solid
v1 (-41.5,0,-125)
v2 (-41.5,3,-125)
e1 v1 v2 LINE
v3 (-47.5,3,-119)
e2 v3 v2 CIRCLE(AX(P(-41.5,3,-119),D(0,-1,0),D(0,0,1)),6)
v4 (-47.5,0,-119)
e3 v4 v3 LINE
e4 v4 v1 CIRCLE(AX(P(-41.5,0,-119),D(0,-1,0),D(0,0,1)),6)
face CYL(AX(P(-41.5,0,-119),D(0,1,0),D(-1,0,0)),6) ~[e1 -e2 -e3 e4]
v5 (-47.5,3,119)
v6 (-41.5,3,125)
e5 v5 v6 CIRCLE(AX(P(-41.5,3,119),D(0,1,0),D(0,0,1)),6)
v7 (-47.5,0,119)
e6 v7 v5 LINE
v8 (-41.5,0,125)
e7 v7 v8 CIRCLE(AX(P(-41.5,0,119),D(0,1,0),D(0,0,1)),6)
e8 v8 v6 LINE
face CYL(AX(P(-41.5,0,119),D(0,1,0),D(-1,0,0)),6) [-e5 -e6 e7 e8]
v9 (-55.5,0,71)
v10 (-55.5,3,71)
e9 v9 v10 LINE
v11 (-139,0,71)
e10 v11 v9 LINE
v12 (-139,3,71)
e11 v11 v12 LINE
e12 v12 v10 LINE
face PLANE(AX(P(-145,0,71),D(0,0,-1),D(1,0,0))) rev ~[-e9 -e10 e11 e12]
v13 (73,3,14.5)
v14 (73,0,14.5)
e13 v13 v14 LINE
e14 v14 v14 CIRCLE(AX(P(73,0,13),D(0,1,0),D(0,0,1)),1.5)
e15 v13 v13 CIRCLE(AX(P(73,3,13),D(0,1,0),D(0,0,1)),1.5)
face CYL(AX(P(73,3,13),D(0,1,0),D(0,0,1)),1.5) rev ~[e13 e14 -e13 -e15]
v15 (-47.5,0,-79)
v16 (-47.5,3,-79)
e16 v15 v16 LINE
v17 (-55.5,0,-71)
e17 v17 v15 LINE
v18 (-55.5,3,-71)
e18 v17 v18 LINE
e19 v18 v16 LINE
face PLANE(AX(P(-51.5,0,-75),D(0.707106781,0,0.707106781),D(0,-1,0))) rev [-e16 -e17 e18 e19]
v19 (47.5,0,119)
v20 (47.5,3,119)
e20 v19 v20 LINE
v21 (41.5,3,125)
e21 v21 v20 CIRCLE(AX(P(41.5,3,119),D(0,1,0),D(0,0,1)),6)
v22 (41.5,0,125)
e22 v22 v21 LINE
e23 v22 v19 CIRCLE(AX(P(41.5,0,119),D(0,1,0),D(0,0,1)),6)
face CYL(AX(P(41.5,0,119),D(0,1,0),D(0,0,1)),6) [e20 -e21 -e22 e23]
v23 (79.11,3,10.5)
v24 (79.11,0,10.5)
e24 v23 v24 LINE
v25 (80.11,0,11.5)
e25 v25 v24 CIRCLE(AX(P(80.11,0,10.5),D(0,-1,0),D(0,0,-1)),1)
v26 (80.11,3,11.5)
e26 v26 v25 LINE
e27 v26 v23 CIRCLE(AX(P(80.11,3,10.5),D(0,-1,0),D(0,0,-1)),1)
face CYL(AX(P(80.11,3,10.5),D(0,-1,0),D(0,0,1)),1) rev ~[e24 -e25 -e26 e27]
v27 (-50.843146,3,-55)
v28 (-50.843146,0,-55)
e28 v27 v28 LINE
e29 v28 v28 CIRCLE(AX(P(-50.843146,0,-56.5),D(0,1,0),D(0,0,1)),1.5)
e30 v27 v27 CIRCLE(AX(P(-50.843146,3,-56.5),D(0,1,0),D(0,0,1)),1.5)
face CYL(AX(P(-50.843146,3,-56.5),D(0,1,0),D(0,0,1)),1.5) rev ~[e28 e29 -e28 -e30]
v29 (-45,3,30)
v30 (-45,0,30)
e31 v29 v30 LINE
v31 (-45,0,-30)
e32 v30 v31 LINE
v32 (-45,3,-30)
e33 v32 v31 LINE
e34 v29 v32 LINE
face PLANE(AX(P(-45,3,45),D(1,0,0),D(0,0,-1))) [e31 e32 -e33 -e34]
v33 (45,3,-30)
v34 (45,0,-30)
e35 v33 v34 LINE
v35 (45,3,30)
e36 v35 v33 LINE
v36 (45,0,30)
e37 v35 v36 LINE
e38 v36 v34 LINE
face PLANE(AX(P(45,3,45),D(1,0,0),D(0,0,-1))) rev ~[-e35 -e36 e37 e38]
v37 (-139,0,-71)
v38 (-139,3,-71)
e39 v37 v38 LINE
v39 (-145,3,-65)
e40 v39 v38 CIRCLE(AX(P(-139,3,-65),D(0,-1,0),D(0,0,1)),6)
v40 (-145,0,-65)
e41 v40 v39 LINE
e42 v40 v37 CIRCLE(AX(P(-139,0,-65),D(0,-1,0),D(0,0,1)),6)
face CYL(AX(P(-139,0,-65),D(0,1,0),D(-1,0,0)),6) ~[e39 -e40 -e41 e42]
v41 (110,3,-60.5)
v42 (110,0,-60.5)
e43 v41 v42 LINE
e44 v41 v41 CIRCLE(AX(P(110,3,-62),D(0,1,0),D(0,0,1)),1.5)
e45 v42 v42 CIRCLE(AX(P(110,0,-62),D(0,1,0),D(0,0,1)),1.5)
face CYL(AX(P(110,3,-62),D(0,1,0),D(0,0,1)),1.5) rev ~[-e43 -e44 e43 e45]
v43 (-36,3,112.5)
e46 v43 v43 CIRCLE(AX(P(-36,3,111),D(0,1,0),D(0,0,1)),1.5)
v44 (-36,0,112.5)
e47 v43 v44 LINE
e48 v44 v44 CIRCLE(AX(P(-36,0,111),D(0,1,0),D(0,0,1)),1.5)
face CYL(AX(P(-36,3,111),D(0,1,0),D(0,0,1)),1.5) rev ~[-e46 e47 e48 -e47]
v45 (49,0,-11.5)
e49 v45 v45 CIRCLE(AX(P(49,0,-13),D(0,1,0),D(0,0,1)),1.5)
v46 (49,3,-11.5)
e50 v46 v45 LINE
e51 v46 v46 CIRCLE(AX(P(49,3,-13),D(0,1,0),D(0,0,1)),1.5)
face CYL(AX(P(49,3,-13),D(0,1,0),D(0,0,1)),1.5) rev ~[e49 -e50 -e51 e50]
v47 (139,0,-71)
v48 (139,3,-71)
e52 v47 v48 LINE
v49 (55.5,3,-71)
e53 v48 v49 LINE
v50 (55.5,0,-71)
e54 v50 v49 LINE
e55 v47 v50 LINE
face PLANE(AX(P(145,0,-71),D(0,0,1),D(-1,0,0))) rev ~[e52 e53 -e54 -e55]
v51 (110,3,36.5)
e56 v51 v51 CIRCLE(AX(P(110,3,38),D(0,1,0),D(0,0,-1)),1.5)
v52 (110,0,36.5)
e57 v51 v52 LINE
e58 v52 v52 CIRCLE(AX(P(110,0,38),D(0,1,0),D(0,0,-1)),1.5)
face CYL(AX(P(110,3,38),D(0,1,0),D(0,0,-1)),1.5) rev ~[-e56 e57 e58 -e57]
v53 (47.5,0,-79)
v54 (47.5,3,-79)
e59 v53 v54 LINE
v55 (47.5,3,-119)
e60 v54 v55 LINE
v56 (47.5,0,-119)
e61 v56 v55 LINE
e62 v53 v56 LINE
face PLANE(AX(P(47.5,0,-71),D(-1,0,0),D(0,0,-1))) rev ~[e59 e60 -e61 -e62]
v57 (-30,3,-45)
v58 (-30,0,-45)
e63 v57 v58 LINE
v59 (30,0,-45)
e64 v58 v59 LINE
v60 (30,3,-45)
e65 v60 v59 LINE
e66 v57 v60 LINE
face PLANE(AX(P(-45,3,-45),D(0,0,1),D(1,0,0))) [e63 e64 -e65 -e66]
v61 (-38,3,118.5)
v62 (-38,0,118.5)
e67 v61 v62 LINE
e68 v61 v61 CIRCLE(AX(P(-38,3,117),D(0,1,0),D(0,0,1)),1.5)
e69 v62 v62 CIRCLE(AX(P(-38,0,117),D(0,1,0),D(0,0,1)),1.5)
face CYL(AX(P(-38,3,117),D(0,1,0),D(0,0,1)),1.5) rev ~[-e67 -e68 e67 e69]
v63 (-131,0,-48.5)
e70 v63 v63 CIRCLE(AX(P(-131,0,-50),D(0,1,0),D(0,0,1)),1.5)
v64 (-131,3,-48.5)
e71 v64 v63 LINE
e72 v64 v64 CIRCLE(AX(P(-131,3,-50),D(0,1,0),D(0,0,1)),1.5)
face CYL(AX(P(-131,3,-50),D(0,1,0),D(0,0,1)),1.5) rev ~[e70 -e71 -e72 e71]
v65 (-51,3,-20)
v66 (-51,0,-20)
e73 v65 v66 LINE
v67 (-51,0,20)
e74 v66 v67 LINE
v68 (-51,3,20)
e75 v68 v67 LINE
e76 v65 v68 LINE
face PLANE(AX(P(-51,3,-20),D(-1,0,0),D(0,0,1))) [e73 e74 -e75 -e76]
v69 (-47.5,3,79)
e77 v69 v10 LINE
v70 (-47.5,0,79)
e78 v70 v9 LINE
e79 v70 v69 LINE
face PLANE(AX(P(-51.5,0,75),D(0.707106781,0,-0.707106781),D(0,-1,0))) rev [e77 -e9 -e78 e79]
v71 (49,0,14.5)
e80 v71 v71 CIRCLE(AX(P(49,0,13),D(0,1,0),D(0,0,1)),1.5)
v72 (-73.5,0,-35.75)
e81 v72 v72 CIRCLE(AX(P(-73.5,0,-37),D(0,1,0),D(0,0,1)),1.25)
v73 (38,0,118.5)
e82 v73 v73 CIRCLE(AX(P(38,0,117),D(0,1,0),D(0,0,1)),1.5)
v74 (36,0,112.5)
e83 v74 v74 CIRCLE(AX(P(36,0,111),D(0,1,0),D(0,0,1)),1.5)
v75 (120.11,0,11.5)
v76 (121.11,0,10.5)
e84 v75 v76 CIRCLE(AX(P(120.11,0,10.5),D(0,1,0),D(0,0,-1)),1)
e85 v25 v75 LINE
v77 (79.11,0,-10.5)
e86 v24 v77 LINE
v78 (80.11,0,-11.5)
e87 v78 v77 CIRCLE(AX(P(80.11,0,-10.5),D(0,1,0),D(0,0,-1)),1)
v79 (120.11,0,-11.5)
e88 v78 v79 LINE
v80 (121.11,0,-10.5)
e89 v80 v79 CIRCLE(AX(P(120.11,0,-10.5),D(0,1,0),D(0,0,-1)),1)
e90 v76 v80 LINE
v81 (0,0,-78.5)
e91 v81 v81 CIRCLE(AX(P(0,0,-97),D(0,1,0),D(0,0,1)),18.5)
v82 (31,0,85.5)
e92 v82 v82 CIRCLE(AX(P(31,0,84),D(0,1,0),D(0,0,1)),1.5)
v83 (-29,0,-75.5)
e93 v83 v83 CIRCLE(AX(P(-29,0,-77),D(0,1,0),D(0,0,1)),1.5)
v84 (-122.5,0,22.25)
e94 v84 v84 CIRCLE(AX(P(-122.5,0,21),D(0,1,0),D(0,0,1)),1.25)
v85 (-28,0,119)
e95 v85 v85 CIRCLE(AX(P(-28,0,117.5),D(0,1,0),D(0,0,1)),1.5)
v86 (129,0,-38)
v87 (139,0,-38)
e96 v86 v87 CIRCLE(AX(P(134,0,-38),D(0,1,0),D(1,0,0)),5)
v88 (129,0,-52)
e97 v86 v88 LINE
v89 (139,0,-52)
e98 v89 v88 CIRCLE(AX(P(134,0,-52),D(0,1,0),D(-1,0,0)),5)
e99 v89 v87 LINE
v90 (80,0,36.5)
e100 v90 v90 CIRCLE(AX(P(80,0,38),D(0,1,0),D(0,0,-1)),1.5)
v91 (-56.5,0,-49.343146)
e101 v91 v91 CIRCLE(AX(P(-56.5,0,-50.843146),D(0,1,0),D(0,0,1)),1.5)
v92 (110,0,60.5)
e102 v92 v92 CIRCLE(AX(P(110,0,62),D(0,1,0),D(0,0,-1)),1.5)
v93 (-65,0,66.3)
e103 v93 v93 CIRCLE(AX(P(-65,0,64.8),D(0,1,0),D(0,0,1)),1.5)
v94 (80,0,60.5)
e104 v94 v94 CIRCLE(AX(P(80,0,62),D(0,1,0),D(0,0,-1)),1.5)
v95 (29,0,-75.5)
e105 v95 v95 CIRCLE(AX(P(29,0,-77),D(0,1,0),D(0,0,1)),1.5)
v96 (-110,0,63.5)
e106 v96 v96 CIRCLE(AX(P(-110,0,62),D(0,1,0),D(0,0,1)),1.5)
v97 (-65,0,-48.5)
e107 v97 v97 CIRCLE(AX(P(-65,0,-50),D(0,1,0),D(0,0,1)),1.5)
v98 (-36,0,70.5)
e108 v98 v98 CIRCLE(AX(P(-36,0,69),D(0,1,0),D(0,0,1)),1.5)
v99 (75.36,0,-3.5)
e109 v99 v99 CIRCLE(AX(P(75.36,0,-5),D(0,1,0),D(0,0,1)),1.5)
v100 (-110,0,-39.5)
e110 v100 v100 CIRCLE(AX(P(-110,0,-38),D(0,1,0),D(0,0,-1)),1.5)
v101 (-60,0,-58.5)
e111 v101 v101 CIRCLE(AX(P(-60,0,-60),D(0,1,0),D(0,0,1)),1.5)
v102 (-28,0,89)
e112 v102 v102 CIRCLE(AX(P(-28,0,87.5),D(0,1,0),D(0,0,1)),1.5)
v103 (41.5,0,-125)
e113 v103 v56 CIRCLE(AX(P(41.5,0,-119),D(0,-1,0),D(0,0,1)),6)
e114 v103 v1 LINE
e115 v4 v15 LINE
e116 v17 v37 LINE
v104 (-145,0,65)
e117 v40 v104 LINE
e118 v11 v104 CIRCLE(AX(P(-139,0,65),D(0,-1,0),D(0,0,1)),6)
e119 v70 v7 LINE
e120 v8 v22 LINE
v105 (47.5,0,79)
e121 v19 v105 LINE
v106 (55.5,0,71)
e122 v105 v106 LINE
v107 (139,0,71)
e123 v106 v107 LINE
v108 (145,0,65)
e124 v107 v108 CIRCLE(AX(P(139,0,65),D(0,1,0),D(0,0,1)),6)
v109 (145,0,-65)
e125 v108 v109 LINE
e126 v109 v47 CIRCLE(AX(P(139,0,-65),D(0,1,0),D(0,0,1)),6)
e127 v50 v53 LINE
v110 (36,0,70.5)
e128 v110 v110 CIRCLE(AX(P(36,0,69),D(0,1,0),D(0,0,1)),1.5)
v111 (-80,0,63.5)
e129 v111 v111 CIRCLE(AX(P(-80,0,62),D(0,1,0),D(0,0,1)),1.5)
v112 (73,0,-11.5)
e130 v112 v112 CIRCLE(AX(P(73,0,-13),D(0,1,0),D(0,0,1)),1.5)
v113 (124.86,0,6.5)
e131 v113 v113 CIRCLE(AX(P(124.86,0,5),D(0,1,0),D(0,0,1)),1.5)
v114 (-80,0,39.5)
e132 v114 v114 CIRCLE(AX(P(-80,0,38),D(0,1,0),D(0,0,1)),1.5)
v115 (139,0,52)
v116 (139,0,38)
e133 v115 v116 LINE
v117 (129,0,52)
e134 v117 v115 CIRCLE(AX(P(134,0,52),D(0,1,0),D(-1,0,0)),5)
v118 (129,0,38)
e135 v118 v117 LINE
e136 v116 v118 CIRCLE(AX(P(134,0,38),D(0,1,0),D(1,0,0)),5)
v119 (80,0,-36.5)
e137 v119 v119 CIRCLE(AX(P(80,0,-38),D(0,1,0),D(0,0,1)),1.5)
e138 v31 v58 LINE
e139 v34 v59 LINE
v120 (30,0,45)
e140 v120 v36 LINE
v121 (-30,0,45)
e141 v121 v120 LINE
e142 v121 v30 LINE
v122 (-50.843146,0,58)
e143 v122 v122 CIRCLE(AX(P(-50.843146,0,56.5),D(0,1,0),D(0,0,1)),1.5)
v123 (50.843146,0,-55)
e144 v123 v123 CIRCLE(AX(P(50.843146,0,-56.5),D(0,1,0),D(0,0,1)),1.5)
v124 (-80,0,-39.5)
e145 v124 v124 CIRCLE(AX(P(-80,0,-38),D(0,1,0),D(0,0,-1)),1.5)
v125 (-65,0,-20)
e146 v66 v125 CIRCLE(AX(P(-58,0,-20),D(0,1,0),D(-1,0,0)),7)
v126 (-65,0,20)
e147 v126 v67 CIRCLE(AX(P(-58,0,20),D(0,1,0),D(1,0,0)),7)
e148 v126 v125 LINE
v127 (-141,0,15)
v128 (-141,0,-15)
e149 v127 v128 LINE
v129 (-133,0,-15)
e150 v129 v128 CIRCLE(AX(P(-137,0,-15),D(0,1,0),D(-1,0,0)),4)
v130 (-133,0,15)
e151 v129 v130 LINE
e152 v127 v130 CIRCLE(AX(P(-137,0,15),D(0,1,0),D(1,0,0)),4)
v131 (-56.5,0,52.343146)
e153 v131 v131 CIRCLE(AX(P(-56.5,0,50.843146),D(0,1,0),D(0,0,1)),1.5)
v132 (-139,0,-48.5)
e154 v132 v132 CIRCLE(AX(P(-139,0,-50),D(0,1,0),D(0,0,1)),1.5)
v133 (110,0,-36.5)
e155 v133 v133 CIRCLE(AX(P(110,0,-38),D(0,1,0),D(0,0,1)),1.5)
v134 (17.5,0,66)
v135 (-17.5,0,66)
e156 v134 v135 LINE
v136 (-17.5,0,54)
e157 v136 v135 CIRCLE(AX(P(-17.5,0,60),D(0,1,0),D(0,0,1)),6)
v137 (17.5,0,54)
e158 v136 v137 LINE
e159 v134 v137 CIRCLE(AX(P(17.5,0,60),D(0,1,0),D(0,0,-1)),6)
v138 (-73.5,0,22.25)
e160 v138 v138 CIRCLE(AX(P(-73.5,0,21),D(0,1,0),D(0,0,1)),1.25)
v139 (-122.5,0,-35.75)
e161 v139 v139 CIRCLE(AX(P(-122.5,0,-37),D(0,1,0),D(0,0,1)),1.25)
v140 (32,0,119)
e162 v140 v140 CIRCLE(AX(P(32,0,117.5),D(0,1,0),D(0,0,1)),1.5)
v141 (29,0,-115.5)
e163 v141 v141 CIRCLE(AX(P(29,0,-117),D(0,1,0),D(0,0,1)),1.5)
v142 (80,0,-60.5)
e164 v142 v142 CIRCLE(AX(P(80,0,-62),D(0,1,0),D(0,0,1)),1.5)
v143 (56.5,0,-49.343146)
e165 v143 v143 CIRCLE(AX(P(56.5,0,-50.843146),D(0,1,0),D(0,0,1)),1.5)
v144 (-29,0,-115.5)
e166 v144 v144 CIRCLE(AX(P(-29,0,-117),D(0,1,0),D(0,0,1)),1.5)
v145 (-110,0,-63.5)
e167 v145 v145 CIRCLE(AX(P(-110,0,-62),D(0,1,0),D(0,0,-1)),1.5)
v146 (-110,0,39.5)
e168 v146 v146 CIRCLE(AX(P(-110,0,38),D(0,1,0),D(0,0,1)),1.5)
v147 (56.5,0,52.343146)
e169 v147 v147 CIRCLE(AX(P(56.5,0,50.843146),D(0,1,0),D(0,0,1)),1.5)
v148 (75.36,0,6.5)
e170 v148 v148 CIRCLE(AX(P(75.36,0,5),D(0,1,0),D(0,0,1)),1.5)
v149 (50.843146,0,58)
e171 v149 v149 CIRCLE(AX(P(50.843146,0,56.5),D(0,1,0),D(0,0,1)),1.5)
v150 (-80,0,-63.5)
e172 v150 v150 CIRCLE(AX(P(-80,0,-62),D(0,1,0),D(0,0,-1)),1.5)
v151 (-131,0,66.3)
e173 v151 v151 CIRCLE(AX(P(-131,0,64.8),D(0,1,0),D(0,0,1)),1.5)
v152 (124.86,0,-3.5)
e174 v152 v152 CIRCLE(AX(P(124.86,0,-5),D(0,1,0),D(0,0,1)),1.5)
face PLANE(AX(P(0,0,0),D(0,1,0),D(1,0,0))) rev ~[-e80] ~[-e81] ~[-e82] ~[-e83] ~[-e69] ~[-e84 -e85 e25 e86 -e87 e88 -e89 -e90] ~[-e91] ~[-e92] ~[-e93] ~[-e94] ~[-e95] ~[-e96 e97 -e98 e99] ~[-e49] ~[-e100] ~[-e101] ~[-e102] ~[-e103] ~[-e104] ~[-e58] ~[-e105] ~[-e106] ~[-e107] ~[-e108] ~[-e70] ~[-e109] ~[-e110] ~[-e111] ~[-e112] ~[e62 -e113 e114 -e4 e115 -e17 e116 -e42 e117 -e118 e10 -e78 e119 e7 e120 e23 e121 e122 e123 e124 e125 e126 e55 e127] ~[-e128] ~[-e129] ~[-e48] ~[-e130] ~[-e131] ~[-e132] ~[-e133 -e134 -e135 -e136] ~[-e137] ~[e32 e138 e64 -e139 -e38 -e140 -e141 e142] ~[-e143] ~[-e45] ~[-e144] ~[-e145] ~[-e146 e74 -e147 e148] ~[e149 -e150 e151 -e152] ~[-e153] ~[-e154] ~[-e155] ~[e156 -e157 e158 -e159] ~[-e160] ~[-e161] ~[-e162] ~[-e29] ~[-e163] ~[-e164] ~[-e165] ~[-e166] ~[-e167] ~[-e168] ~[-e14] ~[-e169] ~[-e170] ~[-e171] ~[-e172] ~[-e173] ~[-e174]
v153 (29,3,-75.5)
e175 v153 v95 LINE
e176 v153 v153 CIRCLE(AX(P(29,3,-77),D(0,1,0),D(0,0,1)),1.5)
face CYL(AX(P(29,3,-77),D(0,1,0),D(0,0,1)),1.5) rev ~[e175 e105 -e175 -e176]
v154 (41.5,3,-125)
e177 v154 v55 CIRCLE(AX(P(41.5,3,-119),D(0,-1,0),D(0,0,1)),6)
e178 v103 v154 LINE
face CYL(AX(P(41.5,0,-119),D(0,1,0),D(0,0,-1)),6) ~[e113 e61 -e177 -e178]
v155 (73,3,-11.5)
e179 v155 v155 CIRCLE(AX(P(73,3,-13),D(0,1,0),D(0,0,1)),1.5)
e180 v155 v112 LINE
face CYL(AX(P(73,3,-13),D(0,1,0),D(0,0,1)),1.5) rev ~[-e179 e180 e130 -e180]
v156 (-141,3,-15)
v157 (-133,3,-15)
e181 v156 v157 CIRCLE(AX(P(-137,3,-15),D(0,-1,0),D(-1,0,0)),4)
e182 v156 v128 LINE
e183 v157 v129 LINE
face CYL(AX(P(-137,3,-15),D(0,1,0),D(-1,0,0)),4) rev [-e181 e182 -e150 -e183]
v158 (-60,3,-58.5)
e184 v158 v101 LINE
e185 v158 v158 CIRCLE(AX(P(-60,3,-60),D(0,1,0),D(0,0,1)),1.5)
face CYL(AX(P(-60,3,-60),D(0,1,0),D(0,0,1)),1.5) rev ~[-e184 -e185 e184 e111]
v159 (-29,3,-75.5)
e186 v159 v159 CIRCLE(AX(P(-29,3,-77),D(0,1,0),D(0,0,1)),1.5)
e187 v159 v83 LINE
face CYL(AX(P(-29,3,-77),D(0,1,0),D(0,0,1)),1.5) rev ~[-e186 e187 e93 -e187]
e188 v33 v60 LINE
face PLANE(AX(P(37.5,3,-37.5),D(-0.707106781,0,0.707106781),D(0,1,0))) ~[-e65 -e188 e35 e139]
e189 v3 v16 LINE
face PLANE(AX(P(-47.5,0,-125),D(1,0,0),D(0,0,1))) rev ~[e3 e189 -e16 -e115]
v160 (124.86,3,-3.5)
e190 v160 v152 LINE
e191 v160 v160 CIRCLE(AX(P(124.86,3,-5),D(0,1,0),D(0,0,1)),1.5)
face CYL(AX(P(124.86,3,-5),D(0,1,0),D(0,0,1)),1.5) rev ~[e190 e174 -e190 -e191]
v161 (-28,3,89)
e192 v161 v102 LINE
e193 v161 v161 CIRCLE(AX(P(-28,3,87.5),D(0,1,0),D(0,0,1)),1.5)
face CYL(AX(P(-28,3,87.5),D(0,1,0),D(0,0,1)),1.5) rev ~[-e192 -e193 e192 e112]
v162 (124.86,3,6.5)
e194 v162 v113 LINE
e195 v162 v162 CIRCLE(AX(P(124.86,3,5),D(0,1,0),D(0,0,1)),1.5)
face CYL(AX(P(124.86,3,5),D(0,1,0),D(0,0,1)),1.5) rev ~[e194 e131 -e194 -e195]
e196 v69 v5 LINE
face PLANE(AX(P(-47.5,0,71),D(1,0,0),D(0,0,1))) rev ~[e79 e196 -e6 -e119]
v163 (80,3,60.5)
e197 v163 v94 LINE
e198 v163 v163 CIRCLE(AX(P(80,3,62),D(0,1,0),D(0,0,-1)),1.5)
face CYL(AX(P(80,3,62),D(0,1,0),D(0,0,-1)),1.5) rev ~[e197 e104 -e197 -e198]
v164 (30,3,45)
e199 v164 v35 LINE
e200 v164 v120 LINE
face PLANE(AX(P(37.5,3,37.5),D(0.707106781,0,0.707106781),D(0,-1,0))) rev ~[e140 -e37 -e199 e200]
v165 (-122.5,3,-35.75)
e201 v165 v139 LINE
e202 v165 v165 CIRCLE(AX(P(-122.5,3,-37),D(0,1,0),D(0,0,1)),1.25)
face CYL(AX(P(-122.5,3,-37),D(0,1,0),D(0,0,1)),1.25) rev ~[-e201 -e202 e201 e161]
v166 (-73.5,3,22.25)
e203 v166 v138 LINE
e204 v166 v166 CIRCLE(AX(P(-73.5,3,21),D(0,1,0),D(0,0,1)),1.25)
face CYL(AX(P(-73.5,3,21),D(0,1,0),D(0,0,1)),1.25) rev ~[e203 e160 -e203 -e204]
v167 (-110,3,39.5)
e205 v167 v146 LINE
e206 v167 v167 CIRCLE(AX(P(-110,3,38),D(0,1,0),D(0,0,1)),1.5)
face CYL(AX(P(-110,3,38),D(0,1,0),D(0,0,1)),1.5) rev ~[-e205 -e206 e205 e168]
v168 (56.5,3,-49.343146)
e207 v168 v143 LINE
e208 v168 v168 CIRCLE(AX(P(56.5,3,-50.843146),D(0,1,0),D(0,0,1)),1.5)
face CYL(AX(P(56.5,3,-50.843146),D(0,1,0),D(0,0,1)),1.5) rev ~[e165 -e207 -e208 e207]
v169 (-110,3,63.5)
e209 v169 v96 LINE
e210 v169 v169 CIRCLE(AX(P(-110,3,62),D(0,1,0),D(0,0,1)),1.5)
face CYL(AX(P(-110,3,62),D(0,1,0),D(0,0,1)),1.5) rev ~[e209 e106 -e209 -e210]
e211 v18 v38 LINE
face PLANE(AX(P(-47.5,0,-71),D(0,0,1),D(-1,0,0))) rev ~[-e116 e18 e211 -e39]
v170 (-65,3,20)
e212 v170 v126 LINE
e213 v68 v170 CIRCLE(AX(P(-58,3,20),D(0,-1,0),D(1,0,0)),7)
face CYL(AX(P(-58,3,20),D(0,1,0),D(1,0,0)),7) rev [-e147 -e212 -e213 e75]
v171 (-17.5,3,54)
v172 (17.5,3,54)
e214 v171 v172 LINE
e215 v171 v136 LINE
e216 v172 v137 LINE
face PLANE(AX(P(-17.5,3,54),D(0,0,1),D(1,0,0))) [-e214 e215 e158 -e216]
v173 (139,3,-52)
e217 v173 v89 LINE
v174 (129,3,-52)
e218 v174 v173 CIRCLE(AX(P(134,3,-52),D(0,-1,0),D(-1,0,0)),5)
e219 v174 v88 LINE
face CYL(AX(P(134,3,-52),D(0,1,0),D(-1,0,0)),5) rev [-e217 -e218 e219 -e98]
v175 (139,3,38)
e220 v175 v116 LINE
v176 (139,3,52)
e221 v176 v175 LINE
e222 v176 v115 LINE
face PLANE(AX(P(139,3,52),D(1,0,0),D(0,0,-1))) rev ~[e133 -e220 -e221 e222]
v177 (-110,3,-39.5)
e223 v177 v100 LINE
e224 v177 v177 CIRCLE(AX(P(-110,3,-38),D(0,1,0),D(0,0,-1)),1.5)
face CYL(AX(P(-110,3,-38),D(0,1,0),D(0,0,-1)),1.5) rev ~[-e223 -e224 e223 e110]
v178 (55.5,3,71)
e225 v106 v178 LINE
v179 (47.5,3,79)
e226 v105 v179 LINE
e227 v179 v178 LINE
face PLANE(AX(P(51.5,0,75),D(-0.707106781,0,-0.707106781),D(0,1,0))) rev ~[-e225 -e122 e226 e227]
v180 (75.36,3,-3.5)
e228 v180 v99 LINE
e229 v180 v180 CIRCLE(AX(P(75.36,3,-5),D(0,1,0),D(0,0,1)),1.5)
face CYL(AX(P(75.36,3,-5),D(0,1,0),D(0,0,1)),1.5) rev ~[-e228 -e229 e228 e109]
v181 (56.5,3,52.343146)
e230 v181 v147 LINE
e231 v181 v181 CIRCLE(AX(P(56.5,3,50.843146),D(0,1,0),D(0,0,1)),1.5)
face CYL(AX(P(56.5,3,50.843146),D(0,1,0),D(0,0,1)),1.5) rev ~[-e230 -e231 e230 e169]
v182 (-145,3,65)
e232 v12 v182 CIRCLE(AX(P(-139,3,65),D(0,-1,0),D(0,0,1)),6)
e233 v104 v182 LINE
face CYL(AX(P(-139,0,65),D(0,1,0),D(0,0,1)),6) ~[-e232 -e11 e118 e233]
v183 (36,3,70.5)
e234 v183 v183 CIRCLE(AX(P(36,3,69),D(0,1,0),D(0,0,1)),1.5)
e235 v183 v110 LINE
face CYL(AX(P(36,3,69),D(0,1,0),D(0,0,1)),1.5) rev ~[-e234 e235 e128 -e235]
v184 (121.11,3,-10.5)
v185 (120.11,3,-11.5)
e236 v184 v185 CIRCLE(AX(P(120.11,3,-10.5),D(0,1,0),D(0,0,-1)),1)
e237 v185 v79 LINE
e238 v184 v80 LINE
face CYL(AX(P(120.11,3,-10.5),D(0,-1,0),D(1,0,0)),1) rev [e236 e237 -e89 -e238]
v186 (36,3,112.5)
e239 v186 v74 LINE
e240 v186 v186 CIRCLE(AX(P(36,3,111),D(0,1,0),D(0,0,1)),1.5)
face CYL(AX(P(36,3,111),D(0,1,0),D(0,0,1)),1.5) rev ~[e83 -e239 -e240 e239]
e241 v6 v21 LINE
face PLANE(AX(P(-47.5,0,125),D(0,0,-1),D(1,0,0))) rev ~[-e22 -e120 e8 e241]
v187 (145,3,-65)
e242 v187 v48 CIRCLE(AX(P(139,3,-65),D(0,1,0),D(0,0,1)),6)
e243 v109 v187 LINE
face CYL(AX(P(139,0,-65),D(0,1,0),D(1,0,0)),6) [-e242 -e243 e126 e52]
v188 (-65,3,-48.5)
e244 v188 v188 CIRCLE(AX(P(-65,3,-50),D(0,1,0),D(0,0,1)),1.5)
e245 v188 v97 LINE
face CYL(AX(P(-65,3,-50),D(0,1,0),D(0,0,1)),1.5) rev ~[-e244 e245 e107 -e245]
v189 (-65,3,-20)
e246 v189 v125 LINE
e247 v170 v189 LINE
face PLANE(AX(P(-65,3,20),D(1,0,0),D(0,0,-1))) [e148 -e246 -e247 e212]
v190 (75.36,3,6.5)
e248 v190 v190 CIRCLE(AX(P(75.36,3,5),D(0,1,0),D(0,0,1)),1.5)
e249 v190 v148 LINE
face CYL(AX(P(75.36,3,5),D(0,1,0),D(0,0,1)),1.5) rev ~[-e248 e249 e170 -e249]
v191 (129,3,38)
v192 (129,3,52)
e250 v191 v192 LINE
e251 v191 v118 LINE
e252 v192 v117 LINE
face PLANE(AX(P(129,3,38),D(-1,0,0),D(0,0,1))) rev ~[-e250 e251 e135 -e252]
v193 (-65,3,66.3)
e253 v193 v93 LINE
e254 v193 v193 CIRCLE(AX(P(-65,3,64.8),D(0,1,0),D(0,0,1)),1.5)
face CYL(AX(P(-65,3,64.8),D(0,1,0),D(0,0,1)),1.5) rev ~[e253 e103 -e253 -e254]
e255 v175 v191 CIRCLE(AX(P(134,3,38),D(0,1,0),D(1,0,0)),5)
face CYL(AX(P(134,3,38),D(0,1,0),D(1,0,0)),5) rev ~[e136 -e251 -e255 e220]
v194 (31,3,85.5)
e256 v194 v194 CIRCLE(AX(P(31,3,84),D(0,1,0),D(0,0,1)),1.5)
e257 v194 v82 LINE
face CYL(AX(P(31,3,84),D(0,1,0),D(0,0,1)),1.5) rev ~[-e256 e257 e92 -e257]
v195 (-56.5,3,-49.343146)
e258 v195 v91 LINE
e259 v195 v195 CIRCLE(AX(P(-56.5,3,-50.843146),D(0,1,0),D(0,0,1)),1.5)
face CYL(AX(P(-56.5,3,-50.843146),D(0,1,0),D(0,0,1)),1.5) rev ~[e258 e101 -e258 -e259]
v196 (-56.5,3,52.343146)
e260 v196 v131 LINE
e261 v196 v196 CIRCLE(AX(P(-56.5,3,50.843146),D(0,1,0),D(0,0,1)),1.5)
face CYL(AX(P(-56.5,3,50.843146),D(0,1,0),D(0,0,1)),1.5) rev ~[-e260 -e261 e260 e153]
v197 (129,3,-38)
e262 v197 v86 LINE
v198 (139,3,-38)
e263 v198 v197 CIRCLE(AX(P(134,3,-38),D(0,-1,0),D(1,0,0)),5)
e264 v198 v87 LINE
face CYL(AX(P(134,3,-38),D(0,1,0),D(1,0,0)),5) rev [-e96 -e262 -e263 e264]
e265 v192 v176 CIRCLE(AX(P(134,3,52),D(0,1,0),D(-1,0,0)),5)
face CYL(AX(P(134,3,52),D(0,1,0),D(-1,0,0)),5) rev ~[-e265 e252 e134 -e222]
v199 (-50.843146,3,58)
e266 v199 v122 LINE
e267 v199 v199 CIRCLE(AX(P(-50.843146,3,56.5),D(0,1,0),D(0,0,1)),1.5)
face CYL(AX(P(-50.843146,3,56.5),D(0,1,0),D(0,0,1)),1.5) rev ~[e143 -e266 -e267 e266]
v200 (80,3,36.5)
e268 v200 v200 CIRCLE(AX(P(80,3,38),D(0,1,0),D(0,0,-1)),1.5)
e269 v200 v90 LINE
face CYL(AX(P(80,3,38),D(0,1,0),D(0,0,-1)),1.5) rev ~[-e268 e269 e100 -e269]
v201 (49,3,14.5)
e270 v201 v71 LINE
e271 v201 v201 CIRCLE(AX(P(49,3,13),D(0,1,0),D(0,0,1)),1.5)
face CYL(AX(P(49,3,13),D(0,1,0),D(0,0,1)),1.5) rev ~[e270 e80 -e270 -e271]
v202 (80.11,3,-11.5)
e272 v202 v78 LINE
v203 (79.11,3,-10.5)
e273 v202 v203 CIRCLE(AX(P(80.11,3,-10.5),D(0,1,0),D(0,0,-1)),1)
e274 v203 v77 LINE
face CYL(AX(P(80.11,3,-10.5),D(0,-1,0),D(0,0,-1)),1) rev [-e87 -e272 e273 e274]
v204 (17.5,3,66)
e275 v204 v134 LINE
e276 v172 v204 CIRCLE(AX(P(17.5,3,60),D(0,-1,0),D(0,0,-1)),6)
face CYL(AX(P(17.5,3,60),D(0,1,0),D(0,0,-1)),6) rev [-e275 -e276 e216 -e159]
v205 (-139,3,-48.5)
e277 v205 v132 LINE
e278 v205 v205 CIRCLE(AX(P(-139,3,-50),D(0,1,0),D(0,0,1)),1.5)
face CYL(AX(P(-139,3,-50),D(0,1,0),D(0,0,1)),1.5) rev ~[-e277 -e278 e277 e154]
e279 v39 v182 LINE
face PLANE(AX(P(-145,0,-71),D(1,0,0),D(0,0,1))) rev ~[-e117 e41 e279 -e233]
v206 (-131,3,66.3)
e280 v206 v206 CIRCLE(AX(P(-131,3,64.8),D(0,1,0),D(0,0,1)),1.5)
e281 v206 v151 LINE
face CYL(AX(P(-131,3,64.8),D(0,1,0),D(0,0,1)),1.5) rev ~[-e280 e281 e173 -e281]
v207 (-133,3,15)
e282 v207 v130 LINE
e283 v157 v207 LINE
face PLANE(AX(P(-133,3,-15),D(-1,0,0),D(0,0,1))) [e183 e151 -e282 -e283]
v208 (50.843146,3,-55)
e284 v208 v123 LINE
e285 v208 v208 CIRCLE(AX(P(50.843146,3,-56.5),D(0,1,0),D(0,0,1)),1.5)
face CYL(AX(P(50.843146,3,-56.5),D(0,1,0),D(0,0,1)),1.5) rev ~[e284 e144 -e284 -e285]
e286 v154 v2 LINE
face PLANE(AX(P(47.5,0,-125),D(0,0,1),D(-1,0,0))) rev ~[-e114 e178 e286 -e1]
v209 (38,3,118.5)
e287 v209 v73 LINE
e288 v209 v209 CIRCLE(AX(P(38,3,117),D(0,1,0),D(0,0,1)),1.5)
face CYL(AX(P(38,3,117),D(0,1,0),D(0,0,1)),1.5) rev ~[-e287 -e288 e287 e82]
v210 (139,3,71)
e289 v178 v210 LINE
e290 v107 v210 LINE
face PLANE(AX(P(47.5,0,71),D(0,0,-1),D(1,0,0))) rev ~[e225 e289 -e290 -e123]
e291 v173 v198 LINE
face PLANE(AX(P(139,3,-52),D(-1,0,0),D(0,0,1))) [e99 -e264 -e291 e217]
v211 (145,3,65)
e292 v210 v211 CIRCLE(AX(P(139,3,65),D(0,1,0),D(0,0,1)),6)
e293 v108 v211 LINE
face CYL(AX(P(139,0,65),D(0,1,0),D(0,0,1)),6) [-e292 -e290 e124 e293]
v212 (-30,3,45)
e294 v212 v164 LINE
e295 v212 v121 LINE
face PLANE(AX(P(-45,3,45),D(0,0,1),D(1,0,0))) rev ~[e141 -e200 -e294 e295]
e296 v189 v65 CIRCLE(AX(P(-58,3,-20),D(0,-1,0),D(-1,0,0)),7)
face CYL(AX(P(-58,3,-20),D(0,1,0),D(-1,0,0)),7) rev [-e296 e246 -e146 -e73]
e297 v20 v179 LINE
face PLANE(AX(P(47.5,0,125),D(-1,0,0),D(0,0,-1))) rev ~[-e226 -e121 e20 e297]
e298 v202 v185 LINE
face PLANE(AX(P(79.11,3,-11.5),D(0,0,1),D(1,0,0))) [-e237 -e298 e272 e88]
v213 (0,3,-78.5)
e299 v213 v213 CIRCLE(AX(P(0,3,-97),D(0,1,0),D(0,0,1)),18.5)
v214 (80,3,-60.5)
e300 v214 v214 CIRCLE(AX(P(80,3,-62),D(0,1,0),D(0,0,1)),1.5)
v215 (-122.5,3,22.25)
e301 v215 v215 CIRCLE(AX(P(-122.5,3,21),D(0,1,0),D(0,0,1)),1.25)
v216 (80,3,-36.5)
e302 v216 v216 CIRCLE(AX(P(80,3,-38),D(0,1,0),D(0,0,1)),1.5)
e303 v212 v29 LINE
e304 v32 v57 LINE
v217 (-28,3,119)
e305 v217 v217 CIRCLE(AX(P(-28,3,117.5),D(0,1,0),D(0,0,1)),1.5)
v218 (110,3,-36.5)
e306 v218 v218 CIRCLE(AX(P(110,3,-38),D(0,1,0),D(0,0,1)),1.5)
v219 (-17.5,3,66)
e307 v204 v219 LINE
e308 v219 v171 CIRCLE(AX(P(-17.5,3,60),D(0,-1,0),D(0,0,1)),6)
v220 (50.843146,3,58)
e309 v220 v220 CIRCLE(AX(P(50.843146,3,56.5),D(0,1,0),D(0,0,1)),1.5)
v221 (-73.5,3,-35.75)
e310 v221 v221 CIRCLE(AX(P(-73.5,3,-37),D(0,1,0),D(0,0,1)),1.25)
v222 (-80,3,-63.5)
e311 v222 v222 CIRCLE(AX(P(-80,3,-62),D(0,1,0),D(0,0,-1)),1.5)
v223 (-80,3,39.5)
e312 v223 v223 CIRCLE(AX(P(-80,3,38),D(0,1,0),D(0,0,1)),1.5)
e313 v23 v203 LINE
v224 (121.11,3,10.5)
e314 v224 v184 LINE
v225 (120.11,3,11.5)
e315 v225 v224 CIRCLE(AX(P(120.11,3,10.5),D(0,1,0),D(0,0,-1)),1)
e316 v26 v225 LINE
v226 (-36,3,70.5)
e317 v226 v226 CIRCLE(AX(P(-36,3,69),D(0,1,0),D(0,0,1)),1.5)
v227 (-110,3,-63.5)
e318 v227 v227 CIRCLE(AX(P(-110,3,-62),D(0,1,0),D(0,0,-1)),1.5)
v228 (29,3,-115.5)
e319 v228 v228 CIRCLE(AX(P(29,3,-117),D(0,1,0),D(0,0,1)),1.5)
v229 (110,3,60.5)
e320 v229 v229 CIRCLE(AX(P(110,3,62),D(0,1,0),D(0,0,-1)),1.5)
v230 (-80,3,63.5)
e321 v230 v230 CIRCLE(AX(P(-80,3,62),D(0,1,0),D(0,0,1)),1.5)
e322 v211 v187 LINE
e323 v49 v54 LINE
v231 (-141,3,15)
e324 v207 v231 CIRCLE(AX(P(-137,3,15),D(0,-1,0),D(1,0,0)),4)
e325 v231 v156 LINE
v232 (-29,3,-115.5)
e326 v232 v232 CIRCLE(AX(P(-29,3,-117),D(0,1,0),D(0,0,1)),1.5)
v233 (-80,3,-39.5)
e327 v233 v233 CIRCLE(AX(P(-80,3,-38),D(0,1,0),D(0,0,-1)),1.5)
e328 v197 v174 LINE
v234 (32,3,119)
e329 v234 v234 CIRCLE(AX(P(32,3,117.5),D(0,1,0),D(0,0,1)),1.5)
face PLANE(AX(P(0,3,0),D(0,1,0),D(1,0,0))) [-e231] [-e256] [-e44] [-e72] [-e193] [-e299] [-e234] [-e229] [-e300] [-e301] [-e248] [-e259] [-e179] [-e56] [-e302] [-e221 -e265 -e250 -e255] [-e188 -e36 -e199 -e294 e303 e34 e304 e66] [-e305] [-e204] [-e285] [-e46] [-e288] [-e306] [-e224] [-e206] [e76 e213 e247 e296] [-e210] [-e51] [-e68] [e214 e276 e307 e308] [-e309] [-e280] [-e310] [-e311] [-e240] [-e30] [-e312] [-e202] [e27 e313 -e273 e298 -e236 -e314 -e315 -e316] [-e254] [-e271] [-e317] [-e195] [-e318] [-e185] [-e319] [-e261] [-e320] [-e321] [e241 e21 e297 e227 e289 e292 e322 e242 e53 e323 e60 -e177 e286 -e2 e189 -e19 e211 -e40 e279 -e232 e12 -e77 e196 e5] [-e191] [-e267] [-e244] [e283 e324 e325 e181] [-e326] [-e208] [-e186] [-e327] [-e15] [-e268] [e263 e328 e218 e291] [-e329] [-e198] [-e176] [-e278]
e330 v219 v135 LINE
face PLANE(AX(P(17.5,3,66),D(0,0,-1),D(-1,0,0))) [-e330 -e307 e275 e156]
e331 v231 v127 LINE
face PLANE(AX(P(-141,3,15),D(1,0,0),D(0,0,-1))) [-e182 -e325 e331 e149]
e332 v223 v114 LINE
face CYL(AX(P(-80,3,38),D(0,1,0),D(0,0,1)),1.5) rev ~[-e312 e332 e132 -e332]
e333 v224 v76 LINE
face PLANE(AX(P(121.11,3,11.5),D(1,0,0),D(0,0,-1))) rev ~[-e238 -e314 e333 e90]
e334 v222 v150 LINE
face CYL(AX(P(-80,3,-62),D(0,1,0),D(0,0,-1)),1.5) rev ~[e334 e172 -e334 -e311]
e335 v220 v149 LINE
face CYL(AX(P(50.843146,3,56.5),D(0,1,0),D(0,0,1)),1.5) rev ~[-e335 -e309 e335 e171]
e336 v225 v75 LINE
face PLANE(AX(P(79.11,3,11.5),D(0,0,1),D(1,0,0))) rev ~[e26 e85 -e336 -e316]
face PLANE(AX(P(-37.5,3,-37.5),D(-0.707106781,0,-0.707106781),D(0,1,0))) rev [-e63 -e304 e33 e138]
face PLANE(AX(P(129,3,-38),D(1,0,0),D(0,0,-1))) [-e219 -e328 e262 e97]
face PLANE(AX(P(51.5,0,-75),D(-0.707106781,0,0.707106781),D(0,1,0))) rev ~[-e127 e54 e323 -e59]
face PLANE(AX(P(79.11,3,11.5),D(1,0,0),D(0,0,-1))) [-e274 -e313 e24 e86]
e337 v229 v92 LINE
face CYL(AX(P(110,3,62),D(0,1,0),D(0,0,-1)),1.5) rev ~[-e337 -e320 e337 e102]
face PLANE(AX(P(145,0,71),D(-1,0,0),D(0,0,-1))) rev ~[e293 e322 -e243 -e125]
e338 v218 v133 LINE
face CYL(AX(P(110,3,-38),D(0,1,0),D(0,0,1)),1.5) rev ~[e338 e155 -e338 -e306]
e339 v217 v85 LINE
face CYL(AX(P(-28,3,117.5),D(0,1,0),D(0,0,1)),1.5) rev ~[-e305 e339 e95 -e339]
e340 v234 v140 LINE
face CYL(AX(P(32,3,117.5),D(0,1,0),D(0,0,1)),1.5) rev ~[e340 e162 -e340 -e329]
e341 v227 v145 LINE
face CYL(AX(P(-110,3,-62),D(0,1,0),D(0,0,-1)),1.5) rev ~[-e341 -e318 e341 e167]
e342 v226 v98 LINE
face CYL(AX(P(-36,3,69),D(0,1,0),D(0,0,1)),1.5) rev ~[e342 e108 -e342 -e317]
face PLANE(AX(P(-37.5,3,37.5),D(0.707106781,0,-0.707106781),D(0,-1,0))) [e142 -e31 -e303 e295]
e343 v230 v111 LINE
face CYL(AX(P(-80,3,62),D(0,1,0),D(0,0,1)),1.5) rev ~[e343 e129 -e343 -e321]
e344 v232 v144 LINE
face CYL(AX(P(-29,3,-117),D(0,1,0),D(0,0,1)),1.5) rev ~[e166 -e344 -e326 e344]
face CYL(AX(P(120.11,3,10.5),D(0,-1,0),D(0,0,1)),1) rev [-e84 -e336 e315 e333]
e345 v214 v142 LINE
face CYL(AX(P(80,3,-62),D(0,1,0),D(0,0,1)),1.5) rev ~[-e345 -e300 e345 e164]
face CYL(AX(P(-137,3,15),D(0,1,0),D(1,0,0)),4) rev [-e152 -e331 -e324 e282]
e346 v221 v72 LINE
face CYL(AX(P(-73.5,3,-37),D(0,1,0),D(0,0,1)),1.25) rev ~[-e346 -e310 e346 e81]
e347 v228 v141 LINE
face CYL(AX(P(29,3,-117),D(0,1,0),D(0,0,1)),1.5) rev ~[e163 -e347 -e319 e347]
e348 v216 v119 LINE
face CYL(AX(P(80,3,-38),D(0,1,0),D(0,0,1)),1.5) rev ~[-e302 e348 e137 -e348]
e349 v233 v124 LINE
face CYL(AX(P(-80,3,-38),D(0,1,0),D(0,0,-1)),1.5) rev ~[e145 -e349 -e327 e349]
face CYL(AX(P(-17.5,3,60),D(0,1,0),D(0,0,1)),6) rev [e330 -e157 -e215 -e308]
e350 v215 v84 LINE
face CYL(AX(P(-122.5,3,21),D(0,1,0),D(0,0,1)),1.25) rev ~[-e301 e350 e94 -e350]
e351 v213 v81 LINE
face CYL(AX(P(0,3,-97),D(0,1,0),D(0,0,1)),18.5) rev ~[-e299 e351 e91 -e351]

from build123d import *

# Parameters (mm, degrees)
EXTRUDE_1_DEPTH      = 3
SKETCH_2_R           = 1.5
CUT_EXTRUDE_1_DEPTH  = 3
SKETCH_3_R           = 18.5
SKETCH_3_R_2         = 1.5
CUT_EXTRUDE_2_DEPTH  = 10
SKETCH_4_W           = 90
SKETCH_4_H           = 90
CUT_EXTRUDE_3_DEPTH  = 3
FILLET_3_R           = 6
CHAMFER_1_SIZE       = 8
CUT_EXTRUDE_6_DEPTH  = 10
CHAMFER_2_SIZE       = 15
SKETCH_8_R           = 1.5
CUT_EXTRUDE_7_DEPTH  = 10
SKETCH_9_R           = 1.5
CUT_EXTRUDE_8_DEPTH  = 10
CUT_EXTRUDE_9_DEPTH  = 10
SKETCH_14_R          = 1.5
CUT_EXTRUDE_10_DEPTH = 10
SKETCH_15_R          = 1.5
SKETCH_15_W          = 42
SKETCH_15_H          = 23
CUT_EXTRUDE_11_DEPTH = 10
FILLET_4_R           = 1
SKETCH_16_R          = 1.25
CUT_EXTRUDE_12_DEPTH = 10
SKETCH_19_R          = 1.5
CUT_EXTRUDE_13_DEPTH = 10
SKETCH_20_R          = 1.5
CUT_EXTRUDE_14_DEPTH = 10
SKETCH_21_R          = 1.5
CUT_EXTRUDE_15_DEPTH = 10
SKETCH_22_R          = 1.5
CUT_EXTRUDE_16_DEPTH = 10


with BuildPart() as part:
    # 草图1 → 凸台-拉伸1 (new body)
    with BuildSketch(Plane(origin=(0, 0, 0), x_dir=(1, 0, 0), z_dir=(0, 1, 0))):
        Polygon((-47.5, -71), (-47.5, -125), (47.5, -125), (47.5, -71), (145, -71), (145, 71), (47.5, 71), (47.5, 125), (-47.5, 125), (-47.5, 71), (-145, 71), (-145, -71), align=None)
    extrude(amount=EXTRUDE_1_DEPTH)

    # 草图2 → 切除-拉伸1 (cut)
    with BuildSketch(Plane(origin=(0, 3, 0), x_dir=(1, 0, 0), z_dir=(0, 1, 0))):
        with Locations(Location((110, 62, 0), (0, 0, 270))):
            Circle(SKETCH_2_R)
        with Locations(Location((80, 62, 0), (0, 0, 270))):
            Circle(SKETCH_2_R)
        with Locations(Location((80, 38, 0), (0, 0, 270))):
            Circle(SKETCH_2_R)
        with Locations(Location((110, 38, 0), (0, 0, 270))):
            Circle(SKETCH_2_R)
        with Locations(Location((110, -38, 0), (0, 0, 90))):
            Circle(SKETCH_2_R)
        with Locations(Location((110, -62, 0), (0, 0, 90))):
            Circle(SKETCH_2_R)
        with Locations(Location((80, -38, 0), (0, 0, 90))):
            Circle(SKETCH_2_R)
        with Locations(Location((80, -62, 0), (0, 0, 90))):
            Circle(SKETCH_2_R)
        with Locations(Location((-80, -62, 0), (0, 0, 270))):
            Circle(SKETCH_2_R)
        with Locations(Location((-80, -38, 0), (0, 0, 270))):
            Circle(SKETCH_2_R)
        with Locations(Location((-110, -62, 0), (0, 0, 270))):
            Circle(SKETCH_2_R)
        with Locations(Location((-110, -38, 0), (0, 0, 270))):
            Circle(SKETCH_2_R)
        with Locations(Location((-110, 38, 0), (0, 0, 90))):
            Circle(SKETCH_2_R)
        with Locations(Location((-80, 38, 0), (0, 0, 90))):
            Circle(SKETCH_2_R)
        with Locations(Location((-80, 62, 0), (0, 0, 90))):
            Circle(SKETCH_2_R)
        with Locations(Location((-110, 62, 0), (0, 0, 90))):
            Circle(SKETCH_2_R)
    extrude(amount=-CUT_EXTRUDE_1_DEPTH, mode=Mode.SUBTRACT)

    # 草图3 → 切除-拉伸2 (cut)
    with BuildSketch(Plane(origin=(0, 3, 0), x_dir=(1, 0, 0), z_dir=(0, 1, 0))):
        with Locations(Location((0, 97, 0), (0, 0, 270))):
            Circle(SKETCH_3_R)
        with Locations(Location((29, 117, 0), (0, 0, 270))):
            Circle(SKETCH_3_R_2)
        with Locations(Location((29, 77, 0), (0, 0, 270))):
            Circle(SKETCH_3_R_2)
        with Locations(Location((-29, 77, 0), (0, 0, 270))):
            Circle(SKETCH_3_R_2)
        with Locations(Location((-29, 117, 0), (0, 0, 270))):
            Circle(SKETCH_3_R_2)
    extrude(amount=-CUT_EXTRUDE_2_DEPTH, mode=Mode.SUBTRACT)

    # 草图4 → 切除-拉伸3 (cut)
    with BuildSketch(Plane(origin=(0, 3, 0), x_dir=(1, 0, 0), z_dir=(0, 1, 0))):
        Rectangle(SKETCH_4_W, SKETCH_4_H)
    extrude(amount=-CUT_EXTRUDE_3_DEPTH, mode=Mode.SUBTRACT)

    # 圆角3
    fillet_3_edges = [part.edges().sort_by_distance(p)[0] for p in [
        (-145, 1.5, 71),
        (-145, 1.5, -71),
        (-47.5, 1.5, -125),
        (47.5, 1.5, -125),
        (145, 1.5, -71),
        (145, 1.5, 71),
        (47.5, 1.5, 125),
        (-47.5, 1.5, 125),
    ]]
    fillet(fillet_3_edges, radius=FILLET_3_R)

    # 倒角1
    chamfer_1_edges = [part.edges().sort_by_distance(p)[0] for p in [
        (-47.5, 1.5, 71),
        (-47.5, 1.5, -71),
        (47.5, 1.5, -71),
        (47.5, 1.5, 71),
    ]]
    chamfer(chamfer_1_edges, length=CHAMFER_1_SIZE)

    # 草图7 → 切除-拉伸6 (cut)
    with BuildSketch(Plane(origin=(0, 3, 0), x_dir=(1, 0, 0), z_dir=(0, 1, 0))):
        with BuildLine():
            Line((-65, -20), (-65, 20))
            ThreePointArc((-65, 20), (-58, 27), (-51, 20))
            Line((-51, 20), (-51, -20))
            ThreePointArc((-51, -20), (-58, -27), (-65, -20))
        make_face()
        with BuildLine():
            Line((-141, -15), (-141, 15))
            ThreePointArc((-141, 15), (-137, 19), (-133, 15))
            Line((-133, 15), (-133, -15))
            ThreePointArc((-133, -15), (-137, -19), (-141, -15))
        make_face()
        with BuildLine():
            Line((129, 38), (129, 52))
            ThreePointArc((129, 52), (134, 57), (139, 52))
            Line((139, 52), (139, 38))
            ThreePointArc((139, 38), (134, 33), (129, 38))
        make_face()
        with BuildLine():
            Line((129, -38), (129, -52))
            ThreePointArc((129, -52), (134, -57), (139, -52))
            Line((139, -52), (139, -38))
            ThreePointArc((139, -38), (134, -33), (129, -38))
        make_face()
    extrude(amount=-CUT_EXTRUDE_6_DEPTH, mode=Mode.SUBTRACT)

    # 倒角2
    chamfer_2_edges = [part.edges().sort_by_distance(p)[0] for p in [
        (45, 1.5, -45),
        (45, 1.5, 45),
        (-45, 1.5, 45),
        (-45, 1.5, -45),
    ]]
    chamfer(chamfer_2_edges, length=CHAMFER_2_SIZE)

    # 草图8 → 切除-拉伸7 (cut)
    with BuildSketch(Plane(origin=(0, 3, 0), x_dir=(1, 0, 0), z_dir=(0, 1, 0))):
        with Locations(Location((-139, 50, 0), (0, 0, 270))):
            Circle(SKETCH_8_R)
        with Locations(Location((-131, 50, 0), (0, 0, 270))):
            Circle(SKETCH_8_R)
    extrude(amount=-CUT_EXTRUDE_7_DEPTH, mode=Mode.SUBTRACT)

    # 草图9 → 切除-拉伸8 (cut)
    with BuildSketch(Plane(origin=(0, 3, 0), x_dir=(1, 0, 0), z_dir=(0, 1, 0))):
        with Locations(Location((50.843145751, 56.5, 0), (0, 0, 270))):
            Circle(SKETCH_9_R)
        with Locations(Location((56.5, 50.843145751, 0), (0, 0, 270))):
            Circle(SKETCH_9_R)
        with Locations(Location((56.5, -50.843145751, 0), (0, 0, 270))):
            Circle(SKETCH_9_R)
        with Locations(Location((50.843145751, -56.5, 0), (0, 0, 270))):
            Circle(SKETCH_9_R)
        with Locations(Location((-50.843145751, -56.5, 0), (0, 0, 270))):
            Circle(SKETCH_9_R)
        with Locations(Location((-56.5, -50.843145751, 0), (0, 0, 270))):
            Circle(SKETCH_9_R)
        with Locations(Location((-56.5, 50.843145751, 0), (0, 0, 270))):
            Circle(SKETCH_9_R)
        with Locations(Location((-50.843145751, 56.5, 0), (0, 0, 270))):
            Circle(SKETCH_9_R)
        with Locations(Location((-38, -117, 0), (0, 0, 270))):
            Circle(SKETCH_9_R)
        with Locations(Location((38, -117, 0), (0, 0, 270))):
            Circle(SKETCH_9_R)
    extrude(amount=-CUT_EXTRUDE_8_DEPTH, mode=Mode.SUBTRACT)

    # 草图12 → 切除-拉伸9 (cut)
    with BuildSketch(Plane(origin=(0, 3, 0), x_dir=(1, 0, 0), z_dir=(0, 1, 0))):
        with BuildLine():
            Line((-17.5, -54), (17.5, -54))
            ThreePointArc((17.5, -54), (23.5, -60), (17.5, -66))
            Line((17.5, -66), (-17.5, -66))
            ThreePointArc((-17.5, -66), (-23.5, -60), (-17.5, -54))
        make_face()
    extrude(amount=-CUT_EXTRUDE_9_DEPTH, mode=Mode.SUBTRACT)

    # 草图14 → 切除-拉伸10 (cut)
    with BuildSketch(Plane(origin=(0, 3, 0), x_dir=(1, 0, 0), z_dir=(0, 1, 0))):
        with Locations(Location((36, -69, 0), (0, 0, 270))):
            Circle(SKETCH_14_R)
        with Locations(Location((36, -111, 0), (0, 0, 270))):
            Circle(SKETCH_14_R)
        with Locations(Location((-36, -111, 0), (0, 0, 270))):
            Circle(SKETCH_14_R)
        with Locations(Location((-36, -69, 0), (0, 0, 270))):
            Circle(SKETCH_14_R)
    extrude(amount=-CUT_EXTRUDE_10_DEPTH, mode=Mode.SUBTRACT)

    # 草图15 → 切除-拉伸11 (cut)
    with BuildSketch(Plane(origin=(0, 3, 0), x_dir=(1, 0, 0), z_dir=(0, 1, 0))):
        with Locations(Location((75.36, 5, 0), (0, 0, 270))):
            Circle(SKETCH_15_R)
        with Locations(Location((75.36, -5, 0), (0, 0, 270))):
            Circle(SKETCH_15_R)
        with Locations(Location((124.86, -5, 0), (0, 0, 270))):
            Circle(SKETCH_15_R)
        with Locations(Location((124.86, 5, 0), (0, 0, 270))):
            Circle(SKETCH_15_R)
        with Locations((100.11, 0)):
            Rectangle(SKETCH_15_W, SKETCH_15_H)
    extrude(amount=-CUT_EXTRUDE_11_DEPTH, mode=Mode.SUBTRACT)

    # 圆角4
    fillet_4_edges = [part.edges().sort_by_distance(p)[0] for p in [
        (121.11, 1.5, -11.5),
        (121.11, 1.5, 11.5),
        (79.11, 1.5, 11.5),
        (79.11, 1.5, -11.5),
    ]]
    fillet(fillet_4_edges, radius=FILLET_4_R)

    # 草图16 → 切除-拉伸12 (cut)
    with BuildSketch(Plane(origin=(0, 3, 0), x_dir=(1, 0, 0), z_dir=(0, 1, 0))):
        with Locations(Location((-73.5, 37, 0), (0, 0, 270))):
            Circle(SKETCH_16_R)
        with Locations(Location((-122.5, 37, 0), (0, 0, 270))):
            Circle(SKETCH_16_R)
        with Locations(Location((-73.5, -21, 0), (0, 0, 270))):
            Circle(SKETCH_16_R)
        with Locations(Location((-122.5, -21, 0), (0, 0, 270))):
            Circle(SKETCH_16_R)
    extrude(amount=-CUT_EXTRUDE_12_DEPTH, mode=Mode.SUBTRACT)

    # 草图19 → 切除-拉伸13 (cut)
    with BuildSketch(Plane(origin=(0, 3, 0), x_dir=(1, 0, 0), z_dir=(0, 1, 0))):
        with Locations(Location((-65, 50, 0), (0, 0, 270))):
            Circle(SKETCH_19_R)
        with Locations(Location((-131, 50, 0), (0, 0, 270))):
            Circle(SKETCH_19_R)
        with Locations(Location((-65, -64.8, 0), (0, 0, 270))):
            Circle(SKETCH_19_R)
        with Locations(Location((-131, -64.8, 0), (0, 0, 270))):
            Circle(SKETCH_19_R)
    extrude(amount=-CUT_EXTRUDE_13_DEPTH, mode=Mode.SUBTRACT)

    # 草图20 → 切除-拉伸14 (cut)
    with BuildSketch(Plane(origin=(0, 3, 0), x_dir=(1, 0, 0), z_dir=(0, 1, 0))):
        with Locations(Location((-60, 60, 0), (0, 0, 270))):
            Circle(SKETCH_20_R)
    extrude(amount=-CUT_EXTRUDE_14_DEPTH, mode=Mode.SUBTRACT)

    # 草图21 → 切除-拉伸15 (cut)
    with BuildSketch(Plane(origin=(0, 3, 0), x_dir=(1, 0, 0), z_dir=(0, 1, 0))):
        with Locations(Location((31, -84, 0), (0, 0, 270))):
            Circle(SKETCH_21_R)
        with Locations(Location((32, -117.5, 0), (0, 0, 270))):
            Circle(SKETCH_21_R)
        with Locations(Location((-28, -87.5, 0), (0, 0, 270))):
            Circle(SKETCH_21_R)
        with Locations(Location((-28, -117.5, 0), (0, 0, 270))):
            Circle(SKETCH_21_R)
    extrude(amount=-CUT_EXTRUDE_15_DEPTH, mode=Mode.SUBTRACT)

    # 草图22 → 切除-拉伸16 (cut)
    with BuildSketch(Plane(origin=(0, 3, 0), x_dir=(1, 0, 0), z_dir=(0, 1, 0))):
        with Locations(Location((73, 13, 0), (0, 0, 270))):
            Circle(SKETCH_22_R)
        with Locations(Location((49, 13, 0), (0, 0, 270))):
            Circle(SKETCH_22_R)
        with Locations(Location((73, -13, 0), (0, 0, 270))):
            Circle(SKETCH_22_R)
        with Locations(Location((49, -13, 0), (0, 0, 270))):
            Circle(SKETCH_22_R)
    extrude(amount=-CUT_EXTRUDE_16_DEPTH, mode=Mode.SUBTRACT)


solid = part.part
